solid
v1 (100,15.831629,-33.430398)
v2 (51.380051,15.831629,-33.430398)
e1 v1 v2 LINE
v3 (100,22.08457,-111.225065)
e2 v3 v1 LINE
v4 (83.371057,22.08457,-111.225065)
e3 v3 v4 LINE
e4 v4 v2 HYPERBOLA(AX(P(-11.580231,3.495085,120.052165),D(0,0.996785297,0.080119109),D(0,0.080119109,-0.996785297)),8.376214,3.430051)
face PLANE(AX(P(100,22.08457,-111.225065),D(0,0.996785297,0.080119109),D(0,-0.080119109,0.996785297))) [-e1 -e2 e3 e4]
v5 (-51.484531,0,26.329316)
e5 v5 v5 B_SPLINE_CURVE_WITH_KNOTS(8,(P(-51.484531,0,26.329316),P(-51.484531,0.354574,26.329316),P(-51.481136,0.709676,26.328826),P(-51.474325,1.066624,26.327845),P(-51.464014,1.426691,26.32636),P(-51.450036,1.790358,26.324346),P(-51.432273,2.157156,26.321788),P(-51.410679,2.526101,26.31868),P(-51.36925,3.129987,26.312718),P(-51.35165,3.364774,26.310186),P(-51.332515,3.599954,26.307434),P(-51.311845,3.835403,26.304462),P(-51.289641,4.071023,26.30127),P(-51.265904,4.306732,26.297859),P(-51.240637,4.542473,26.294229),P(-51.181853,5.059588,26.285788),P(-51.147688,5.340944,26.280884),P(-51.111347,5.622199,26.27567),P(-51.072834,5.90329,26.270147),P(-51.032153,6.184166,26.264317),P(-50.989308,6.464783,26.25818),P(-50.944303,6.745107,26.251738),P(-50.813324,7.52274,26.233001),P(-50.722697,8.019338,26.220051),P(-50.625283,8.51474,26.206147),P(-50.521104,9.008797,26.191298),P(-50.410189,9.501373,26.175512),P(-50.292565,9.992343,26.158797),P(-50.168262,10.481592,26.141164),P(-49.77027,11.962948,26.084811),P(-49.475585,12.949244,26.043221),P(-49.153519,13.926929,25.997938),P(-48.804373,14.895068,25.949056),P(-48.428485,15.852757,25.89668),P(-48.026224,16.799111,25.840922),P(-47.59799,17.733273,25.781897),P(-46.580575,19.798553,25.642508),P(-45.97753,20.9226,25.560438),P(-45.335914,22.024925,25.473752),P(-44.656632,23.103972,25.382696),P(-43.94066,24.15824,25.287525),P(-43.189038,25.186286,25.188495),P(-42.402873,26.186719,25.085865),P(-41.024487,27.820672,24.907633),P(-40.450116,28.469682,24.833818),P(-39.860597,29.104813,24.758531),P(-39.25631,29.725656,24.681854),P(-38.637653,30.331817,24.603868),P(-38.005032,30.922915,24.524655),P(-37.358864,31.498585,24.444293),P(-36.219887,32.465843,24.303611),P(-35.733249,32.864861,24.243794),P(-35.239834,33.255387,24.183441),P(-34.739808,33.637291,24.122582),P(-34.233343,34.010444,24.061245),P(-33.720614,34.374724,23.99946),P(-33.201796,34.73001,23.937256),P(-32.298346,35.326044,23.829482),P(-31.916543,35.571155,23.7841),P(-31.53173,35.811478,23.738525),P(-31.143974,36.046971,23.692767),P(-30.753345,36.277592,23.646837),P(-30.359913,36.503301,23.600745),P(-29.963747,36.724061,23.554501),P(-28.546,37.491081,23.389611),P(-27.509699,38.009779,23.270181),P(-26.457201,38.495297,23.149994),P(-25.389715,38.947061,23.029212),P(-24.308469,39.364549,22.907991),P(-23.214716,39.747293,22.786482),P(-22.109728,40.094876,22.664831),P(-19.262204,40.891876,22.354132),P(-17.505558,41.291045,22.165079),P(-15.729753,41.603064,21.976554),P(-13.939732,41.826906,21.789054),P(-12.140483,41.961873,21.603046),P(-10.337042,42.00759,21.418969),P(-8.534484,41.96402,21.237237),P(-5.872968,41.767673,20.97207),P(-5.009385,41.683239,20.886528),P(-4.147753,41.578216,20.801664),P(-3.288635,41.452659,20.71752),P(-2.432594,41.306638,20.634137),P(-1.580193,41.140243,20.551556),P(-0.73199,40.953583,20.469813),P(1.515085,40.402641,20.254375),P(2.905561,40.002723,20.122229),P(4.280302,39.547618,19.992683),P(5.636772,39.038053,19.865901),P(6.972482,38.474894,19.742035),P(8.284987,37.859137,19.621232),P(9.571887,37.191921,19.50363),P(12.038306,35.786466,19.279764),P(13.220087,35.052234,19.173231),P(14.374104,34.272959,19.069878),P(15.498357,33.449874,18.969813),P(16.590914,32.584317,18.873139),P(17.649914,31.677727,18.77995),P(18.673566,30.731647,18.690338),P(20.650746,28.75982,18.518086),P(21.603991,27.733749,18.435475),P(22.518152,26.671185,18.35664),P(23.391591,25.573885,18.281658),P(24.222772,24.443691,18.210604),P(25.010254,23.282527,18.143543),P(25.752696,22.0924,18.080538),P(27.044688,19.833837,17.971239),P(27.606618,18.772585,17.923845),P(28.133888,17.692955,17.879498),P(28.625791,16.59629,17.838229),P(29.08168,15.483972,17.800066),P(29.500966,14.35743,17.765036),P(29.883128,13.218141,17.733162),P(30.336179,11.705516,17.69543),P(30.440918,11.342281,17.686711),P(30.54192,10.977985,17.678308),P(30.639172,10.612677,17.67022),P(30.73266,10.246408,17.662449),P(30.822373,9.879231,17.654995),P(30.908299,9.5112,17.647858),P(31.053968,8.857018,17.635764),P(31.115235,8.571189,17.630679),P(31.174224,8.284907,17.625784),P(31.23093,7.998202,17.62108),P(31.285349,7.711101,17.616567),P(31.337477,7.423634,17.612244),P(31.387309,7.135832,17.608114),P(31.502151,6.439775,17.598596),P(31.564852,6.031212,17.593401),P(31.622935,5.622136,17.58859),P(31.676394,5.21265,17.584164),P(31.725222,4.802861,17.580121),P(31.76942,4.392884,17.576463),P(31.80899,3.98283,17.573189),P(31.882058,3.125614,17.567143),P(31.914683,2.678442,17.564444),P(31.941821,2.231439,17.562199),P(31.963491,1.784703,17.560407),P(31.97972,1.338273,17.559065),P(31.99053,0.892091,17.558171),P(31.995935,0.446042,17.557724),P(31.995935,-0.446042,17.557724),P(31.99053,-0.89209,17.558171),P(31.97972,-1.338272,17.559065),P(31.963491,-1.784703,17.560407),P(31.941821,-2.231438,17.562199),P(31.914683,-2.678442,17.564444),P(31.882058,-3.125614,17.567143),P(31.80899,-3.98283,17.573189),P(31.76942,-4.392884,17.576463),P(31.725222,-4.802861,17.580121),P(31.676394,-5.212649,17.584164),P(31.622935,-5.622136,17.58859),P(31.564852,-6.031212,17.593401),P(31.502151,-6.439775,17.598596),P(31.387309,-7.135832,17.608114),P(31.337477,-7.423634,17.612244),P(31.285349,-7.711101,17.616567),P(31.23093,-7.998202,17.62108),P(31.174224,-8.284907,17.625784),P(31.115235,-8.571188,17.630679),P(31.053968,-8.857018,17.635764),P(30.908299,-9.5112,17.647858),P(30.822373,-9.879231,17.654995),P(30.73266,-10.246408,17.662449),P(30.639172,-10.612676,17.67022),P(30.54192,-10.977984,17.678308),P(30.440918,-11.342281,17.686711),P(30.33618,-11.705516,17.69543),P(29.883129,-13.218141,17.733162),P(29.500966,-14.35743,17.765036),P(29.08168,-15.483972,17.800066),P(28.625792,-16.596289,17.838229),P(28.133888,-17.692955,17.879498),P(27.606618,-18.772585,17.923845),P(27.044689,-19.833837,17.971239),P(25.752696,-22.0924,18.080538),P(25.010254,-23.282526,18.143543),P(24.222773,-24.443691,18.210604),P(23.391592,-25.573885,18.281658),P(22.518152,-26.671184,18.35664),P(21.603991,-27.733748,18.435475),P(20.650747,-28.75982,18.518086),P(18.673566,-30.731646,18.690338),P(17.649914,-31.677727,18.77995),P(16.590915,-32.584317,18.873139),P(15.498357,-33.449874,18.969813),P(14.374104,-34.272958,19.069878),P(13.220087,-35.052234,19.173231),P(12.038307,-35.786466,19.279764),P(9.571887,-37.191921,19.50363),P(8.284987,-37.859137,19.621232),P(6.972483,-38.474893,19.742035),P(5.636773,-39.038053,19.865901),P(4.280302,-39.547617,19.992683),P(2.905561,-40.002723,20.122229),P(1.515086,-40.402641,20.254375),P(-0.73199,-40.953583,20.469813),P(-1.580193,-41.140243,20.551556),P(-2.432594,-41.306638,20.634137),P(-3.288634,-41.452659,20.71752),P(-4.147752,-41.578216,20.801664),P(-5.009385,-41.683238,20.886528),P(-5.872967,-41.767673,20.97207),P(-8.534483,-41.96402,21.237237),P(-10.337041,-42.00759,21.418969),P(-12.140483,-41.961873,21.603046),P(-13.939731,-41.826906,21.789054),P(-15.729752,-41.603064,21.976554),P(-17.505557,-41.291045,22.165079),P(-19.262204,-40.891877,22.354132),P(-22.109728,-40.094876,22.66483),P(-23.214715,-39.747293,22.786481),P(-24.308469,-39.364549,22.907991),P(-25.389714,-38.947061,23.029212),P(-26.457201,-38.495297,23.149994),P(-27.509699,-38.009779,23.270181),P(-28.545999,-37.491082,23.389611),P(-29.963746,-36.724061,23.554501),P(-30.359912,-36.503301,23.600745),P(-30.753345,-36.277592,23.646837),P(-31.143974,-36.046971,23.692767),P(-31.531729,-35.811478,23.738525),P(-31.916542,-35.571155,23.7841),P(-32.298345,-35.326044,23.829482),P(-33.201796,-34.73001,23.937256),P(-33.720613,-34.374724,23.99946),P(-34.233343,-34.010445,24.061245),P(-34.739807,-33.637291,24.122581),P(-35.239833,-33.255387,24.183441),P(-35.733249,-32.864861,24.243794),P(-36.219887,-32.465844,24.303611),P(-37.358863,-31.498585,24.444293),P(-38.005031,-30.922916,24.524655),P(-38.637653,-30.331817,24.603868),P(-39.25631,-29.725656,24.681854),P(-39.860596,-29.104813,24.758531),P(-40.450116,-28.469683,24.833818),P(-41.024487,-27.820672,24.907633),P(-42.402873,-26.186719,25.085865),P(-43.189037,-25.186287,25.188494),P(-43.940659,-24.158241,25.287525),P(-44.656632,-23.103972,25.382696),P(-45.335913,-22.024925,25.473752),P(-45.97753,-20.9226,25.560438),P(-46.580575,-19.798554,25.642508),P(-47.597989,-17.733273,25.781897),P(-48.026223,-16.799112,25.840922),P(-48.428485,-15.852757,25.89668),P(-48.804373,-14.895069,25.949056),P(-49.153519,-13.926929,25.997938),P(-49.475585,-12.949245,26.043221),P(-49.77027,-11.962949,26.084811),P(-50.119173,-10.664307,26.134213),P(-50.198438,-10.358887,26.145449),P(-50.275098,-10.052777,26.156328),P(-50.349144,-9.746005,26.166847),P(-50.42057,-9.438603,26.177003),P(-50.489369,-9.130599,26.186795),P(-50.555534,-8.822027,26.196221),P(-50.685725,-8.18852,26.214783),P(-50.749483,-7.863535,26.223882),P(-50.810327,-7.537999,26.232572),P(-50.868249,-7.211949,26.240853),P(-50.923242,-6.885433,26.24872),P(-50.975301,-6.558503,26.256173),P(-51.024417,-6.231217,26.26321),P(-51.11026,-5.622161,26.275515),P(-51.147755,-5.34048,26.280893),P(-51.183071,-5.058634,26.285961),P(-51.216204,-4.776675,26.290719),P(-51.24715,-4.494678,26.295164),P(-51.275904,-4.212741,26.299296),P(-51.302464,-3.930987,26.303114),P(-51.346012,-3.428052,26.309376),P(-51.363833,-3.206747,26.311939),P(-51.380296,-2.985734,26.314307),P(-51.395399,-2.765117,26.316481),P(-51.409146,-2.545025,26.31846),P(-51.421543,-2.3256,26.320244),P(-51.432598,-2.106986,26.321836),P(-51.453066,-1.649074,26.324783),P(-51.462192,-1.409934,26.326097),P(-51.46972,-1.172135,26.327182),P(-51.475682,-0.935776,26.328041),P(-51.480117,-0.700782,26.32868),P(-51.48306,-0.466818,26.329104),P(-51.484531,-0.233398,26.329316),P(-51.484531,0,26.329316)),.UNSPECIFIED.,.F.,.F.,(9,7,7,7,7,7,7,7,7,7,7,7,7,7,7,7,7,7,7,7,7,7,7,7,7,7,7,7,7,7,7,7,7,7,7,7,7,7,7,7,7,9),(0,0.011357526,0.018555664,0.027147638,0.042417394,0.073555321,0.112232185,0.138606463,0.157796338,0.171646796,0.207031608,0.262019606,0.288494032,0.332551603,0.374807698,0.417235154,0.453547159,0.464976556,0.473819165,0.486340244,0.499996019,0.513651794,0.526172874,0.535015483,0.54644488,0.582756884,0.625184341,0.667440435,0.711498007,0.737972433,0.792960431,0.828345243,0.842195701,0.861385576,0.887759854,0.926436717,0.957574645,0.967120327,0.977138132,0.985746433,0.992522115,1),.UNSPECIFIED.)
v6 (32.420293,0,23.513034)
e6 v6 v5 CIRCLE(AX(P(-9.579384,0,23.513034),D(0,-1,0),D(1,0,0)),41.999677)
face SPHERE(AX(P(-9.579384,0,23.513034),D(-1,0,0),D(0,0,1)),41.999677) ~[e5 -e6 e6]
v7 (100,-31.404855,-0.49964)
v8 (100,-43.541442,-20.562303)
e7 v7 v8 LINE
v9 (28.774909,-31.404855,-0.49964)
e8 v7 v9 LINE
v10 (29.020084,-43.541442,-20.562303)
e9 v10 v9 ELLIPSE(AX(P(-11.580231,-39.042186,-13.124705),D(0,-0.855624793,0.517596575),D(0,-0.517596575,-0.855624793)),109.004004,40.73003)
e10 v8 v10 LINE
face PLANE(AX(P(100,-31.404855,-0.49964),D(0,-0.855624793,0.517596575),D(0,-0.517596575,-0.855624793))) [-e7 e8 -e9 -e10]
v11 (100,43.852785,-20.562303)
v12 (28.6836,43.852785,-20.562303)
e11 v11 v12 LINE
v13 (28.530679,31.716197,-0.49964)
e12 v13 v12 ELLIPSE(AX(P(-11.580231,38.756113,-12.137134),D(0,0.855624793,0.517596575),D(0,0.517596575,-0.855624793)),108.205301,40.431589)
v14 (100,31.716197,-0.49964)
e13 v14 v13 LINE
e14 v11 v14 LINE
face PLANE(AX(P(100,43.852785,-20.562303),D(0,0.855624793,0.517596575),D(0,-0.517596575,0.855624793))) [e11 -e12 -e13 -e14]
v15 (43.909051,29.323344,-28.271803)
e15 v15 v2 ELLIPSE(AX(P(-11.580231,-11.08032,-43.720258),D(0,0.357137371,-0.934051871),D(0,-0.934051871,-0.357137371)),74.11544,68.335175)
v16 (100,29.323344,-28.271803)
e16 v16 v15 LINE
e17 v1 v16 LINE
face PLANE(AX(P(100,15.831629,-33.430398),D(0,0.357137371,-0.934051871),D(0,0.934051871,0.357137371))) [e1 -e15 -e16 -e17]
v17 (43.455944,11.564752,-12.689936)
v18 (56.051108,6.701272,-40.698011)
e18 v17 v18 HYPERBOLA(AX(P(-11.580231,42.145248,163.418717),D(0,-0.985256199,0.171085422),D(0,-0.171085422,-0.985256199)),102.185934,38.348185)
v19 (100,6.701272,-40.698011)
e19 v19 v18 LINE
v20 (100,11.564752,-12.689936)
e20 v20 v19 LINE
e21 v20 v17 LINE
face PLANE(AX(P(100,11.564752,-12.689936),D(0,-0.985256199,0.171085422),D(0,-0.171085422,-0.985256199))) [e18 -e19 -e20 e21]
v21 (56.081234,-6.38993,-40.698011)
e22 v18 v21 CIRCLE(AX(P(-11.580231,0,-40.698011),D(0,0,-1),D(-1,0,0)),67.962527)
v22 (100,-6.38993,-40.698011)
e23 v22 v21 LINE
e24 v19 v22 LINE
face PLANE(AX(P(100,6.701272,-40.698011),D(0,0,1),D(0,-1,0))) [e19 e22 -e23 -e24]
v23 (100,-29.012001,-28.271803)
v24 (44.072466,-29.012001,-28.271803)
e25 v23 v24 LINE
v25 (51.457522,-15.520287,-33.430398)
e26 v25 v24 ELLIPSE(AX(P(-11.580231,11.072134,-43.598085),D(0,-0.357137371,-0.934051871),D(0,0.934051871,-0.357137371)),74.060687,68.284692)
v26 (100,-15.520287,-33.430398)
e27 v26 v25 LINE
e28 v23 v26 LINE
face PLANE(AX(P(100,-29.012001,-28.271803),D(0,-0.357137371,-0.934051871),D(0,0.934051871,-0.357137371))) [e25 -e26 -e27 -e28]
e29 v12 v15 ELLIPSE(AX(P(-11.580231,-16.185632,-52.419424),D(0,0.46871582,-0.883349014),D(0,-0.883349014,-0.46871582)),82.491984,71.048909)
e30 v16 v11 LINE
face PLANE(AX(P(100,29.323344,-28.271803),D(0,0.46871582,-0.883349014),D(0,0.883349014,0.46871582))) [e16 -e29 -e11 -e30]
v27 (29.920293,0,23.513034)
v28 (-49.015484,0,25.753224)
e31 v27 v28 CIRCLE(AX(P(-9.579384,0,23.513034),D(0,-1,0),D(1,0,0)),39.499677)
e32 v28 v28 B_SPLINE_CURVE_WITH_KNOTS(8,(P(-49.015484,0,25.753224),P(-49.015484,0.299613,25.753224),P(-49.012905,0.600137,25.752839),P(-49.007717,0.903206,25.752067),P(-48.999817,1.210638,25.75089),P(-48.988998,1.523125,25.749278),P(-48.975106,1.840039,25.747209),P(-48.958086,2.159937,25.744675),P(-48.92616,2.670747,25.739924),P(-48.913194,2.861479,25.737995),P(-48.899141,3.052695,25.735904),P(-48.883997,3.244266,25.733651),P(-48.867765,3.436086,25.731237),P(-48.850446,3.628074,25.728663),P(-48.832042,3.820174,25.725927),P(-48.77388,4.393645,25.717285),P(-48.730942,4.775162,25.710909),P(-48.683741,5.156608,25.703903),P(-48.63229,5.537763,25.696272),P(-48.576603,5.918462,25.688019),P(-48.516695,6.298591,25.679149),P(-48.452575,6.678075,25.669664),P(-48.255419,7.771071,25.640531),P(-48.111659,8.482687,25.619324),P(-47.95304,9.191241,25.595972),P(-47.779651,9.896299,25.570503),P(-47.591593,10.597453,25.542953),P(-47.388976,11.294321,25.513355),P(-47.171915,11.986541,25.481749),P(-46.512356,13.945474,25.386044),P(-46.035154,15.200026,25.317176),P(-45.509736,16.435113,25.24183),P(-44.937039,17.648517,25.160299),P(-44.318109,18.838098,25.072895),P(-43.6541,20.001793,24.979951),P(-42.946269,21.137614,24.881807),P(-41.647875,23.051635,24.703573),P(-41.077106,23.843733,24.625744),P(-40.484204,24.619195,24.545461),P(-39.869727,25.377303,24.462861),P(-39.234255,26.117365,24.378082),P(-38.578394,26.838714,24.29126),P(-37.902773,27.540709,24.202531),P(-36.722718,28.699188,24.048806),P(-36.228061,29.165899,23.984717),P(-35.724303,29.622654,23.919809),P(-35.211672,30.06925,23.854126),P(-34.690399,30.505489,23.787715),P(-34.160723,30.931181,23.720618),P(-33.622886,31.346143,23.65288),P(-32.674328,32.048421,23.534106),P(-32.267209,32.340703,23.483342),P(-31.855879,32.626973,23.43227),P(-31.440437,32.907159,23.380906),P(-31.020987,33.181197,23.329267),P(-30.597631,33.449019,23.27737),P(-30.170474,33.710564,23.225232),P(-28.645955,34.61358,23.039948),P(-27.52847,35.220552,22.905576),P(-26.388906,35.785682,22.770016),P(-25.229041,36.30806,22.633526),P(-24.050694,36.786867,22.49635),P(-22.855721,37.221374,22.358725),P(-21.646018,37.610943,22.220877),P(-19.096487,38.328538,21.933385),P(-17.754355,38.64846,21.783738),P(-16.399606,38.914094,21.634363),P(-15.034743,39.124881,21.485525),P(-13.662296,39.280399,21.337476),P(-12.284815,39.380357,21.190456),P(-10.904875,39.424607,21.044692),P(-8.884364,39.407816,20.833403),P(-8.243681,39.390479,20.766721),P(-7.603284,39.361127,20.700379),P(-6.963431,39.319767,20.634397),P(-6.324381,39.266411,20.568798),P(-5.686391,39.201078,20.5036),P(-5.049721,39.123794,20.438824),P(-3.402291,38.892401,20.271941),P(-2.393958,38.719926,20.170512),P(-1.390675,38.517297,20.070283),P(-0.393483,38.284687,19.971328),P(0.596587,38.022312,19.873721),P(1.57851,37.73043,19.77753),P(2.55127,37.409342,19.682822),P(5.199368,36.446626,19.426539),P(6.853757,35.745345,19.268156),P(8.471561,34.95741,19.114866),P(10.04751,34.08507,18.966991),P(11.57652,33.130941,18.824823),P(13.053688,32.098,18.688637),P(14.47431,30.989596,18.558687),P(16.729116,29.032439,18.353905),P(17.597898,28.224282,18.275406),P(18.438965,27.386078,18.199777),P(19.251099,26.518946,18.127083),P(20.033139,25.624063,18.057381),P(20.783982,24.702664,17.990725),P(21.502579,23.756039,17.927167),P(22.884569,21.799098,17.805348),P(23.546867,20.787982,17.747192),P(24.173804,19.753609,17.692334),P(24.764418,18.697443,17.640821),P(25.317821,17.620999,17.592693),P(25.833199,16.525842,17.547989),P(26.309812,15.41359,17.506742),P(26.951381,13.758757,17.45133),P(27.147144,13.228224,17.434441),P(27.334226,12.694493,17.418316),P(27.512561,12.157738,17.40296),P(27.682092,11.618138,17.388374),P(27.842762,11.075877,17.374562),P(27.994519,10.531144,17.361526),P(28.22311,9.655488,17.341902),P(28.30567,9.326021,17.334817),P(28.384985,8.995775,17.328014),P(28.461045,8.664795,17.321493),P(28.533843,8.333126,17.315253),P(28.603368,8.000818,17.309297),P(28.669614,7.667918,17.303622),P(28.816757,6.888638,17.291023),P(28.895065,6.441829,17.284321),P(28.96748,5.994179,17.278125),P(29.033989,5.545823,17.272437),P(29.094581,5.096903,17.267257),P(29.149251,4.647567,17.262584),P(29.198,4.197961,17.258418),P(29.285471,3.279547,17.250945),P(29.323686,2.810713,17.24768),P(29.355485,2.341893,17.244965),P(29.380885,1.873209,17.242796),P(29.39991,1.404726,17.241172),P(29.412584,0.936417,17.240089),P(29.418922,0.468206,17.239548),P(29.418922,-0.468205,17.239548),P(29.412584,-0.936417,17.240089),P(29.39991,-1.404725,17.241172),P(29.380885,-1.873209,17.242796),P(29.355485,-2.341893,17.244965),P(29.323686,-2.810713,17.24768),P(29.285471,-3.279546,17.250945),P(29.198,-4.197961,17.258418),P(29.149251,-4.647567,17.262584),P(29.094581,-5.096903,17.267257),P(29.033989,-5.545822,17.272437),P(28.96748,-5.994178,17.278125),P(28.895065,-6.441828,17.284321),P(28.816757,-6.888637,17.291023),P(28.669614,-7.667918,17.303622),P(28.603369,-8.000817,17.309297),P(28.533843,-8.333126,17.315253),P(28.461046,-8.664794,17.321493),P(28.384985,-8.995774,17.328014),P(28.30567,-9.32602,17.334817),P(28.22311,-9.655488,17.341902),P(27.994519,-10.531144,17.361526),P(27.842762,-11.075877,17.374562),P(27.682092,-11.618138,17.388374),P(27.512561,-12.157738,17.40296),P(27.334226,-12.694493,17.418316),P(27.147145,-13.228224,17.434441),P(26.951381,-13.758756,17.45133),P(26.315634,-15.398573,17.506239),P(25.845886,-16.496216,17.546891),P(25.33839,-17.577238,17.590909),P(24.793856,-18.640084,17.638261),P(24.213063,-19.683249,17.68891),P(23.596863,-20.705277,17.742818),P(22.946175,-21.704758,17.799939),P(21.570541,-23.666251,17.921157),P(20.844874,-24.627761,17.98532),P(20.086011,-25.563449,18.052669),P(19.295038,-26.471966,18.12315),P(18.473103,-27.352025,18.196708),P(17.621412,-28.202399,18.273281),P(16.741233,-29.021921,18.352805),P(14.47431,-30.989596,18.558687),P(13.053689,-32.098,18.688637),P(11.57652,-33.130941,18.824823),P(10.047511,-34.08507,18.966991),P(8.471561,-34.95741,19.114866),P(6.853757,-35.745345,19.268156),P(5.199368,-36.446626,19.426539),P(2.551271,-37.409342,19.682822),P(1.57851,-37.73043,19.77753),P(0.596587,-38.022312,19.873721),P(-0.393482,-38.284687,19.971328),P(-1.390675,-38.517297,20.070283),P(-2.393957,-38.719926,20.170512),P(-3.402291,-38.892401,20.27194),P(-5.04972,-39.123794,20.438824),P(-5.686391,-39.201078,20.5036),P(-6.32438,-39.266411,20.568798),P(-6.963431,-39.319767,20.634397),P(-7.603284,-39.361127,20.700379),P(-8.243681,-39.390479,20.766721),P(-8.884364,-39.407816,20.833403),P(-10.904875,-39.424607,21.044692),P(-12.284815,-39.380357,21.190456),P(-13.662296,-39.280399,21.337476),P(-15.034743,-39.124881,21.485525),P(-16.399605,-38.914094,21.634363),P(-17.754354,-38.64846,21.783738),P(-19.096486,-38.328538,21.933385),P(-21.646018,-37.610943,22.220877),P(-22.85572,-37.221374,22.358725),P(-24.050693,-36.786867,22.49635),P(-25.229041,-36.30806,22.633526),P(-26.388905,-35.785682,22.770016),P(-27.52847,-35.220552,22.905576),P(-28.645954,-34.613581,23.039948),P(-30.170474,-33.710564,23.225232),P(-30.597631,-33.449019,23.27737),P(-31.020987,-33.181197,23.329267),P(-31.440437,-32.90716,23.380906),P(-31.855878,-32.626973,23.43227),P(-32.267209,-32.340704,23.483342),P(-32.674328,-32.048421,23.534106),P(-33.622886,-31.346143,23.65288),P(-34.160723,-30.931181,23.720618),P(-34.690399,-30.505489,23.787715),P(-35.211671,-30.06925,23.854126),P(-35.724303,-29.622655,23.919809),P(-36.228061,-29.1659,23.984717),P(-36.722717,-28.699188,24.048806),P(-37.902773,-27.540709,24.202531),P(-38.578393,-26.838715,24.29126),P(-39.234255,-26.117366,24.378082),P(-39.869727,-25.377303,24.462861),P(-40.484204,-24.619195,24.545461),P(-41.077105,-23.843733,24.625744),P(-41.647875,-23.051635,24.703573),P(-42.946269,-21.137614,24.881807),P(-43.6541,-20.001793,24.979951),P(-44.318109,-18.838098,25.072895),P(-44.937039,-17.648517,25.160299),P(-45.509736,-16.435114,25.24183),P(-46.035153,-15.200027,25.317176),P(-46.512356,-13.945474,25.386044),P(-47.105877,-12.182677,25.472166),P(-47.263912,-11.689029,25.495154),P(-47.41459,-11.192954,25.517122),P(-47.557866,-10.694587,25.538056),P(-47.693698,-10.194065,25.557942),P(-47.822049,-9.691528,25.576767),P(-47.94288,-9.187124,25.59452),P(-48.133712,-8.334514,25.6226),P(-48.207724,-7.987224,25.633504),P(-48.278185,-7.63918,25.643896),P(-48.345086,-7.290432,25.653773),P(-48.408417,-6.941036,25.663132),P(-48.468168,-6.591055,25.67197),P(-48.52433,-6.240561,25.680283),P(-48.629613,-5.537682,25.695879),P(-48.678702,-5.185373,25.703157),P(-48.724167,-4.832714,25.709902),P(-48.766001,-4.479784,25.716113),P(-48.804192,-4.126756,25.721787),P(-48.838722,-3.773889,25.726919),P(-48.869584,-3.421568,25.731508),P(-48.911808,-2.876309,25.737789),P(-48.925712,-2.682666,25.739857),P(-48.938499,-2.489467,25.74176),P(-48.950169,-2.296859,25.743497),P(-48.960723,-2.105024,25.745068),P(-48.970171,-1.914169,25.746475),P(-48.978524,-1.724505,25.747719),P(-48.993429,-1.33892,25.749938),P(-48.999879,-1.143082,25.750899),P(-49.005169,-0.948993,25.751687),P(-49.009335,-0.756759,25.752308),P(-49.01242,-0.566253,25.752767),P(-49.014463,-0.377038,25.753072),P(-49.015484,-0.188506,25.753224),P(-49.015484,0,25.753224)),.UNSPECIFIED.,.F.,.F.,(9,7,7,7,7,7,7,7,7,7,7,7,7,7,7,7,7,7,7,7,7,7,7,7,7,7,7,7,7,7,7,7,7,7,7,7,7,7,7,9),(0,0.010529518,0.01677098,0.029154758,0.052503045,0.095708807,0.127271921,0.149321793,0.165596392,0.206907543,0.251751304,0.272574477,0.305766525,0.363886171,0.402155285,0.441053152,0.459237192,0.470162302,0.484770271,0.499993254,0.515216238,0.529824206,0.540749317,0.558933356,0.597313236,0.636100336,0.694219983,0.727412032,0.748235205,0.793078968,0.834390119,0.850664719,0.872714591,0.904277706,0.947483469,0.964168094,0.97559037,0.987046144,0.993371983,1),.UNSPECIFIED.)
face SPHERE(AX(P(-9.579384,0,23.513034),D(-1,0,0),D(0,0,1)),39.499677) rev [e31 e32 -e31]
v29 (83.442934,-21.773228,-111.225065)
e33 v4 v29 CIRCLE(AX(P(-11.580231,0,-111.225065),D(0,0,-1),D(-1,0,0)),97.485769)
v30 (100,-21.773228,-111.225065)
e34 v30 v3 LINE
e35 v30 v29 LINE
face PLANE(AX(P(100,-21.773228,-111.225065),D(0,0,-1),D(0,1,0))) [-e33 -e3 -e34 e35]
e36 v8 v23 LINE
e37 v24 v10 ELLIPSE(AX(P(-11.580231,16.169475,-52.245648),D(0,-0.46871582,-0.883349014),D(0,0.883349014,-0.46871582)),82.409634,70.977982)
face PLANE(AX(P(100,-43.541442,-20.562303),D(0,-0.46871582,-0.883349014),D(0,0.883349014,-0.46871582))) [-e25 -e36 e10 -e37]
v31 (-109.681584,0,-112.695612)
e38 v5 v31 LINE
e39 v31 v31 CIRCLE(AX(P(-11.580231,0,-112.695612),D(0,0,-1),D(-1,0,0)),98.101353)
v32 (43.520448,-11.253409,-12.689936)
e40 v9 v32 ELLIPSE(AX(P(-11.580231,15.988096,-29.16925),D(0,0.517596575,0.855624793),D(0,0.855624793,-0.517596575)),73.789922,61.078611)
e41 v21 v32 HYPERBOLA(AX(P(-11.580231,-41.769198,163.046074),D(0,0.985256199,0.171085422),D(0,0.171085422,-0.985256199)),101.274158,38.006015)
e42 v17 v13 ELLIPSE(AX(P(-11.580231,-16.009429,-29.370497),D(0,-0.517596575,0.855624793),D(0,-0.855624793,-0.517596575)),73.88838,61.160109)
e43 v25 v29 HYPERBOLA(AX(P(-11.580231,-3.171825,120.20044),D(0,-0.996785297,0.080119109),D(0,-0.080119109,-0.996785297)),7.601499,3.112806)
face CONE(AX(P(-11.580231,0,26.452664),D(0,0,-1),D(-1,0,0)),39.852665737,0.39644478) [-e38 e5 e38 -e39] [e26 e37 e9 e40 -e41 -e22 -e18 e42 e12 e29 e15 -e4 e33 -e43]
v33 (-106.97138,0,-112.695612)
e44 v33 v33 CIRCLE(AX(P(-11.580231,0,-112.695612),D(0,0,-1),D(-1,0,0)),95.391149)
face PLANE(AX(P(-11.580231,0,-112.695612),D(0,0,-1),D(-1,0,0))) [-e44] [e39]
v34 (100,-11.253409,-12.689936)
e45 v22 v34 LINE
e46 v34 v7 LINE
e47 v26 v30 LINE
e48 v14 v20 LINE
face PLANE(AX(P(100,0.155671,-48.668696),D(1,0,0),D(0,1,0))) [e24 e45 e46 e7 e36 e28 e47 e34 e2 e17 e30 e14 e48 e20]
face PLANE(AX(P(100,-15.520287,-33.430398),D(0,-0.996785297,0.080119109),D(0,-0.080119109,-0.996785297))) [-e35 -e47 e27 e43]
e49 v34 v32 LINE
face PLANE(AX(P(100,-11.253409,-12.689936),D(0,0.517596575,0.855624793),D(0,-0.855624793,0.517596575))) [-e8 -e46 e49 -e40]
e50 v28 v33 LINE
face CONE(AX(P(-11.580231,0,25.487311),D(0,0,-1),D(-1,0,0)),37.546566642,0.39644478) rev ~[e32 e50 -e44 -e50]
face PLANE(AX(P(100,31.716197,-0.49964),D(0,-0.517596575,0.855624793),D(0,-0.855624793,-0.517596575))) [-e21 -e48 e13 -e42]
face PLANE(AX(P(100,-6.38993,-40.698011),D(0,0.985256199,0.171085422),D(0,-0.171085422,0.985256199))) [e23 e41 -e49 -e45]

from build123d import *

# Parameters (mm, degrees)
F4_T = -2.5


with BuildPart() as f1:
    # F0 (on Front) → F1 (revolve)
    with BuildSketch(Plane.XZ):
        with BuildLine():
            ThreePointArc((32.4202927587, 23.5130339861), (-9.5793837681, 65.5127105129), (-51.579060295, 23.5130339861))
            Line((-51.579060295, 23.5130339861), (32.4202927587, 23.5130339861))
        make_face()
    revolve(axis=Axis((1.7417054623, 0, 23.5130339861), (1, 0, 0)))

    # F2 (on Front) → F3 (revolve)
    with BuildSketch(Plane.XZ):
        Polygon((-11.5802306682, -112.6956120133), (-11.5802306682, 26.4526642859), (-51.4328964055, 26.4526642859), (-109.681583941, -112.6956120133), align=None)
    revolve(axis=Axis((-11.5802306682, 0, -22.7773860097), (0, 0, -1)))

    # F4
    f4_openings = [f1.faces().sort_by_distance(p)[0] for p in [
        (-11.580231, 0, -112.695612),
    ]]
    offset(amount=F4_T, openings=f4_openings, kind=Kind.INTERSECTION)

    # F6 (on offset) → F7 (join, up to the next surface of F1)
    with BuildSketch(Plane.YZ.offset(100)):
        Polygon((43.8527846002, -20.5623030921), (31.7161967759, -0.4996404972), (11.5647516543, -12.6899358952), (6.7012720683, -40.6980113115), (0.1556711213, -40.6980113115), (-6.3899298257, -40.6980113115), (-11.2534094117, -12.6899358952), (-31.4048545333, -0.4996404972), (-43.5414423575, -20.5623030921), (-29.0120014979, -28.2718026068), (-15.5202871088, -33.4303977157), (-21.773227875, -111.2250647365), (22.0845701176, -111.2250647365), (15.8316293515, -33.4303977157), (29.3233437405, -28.2718026068), align=None)
    extrude(until=Until.NEXT, dir=(-1, 0, 0))


solid = f1.part
